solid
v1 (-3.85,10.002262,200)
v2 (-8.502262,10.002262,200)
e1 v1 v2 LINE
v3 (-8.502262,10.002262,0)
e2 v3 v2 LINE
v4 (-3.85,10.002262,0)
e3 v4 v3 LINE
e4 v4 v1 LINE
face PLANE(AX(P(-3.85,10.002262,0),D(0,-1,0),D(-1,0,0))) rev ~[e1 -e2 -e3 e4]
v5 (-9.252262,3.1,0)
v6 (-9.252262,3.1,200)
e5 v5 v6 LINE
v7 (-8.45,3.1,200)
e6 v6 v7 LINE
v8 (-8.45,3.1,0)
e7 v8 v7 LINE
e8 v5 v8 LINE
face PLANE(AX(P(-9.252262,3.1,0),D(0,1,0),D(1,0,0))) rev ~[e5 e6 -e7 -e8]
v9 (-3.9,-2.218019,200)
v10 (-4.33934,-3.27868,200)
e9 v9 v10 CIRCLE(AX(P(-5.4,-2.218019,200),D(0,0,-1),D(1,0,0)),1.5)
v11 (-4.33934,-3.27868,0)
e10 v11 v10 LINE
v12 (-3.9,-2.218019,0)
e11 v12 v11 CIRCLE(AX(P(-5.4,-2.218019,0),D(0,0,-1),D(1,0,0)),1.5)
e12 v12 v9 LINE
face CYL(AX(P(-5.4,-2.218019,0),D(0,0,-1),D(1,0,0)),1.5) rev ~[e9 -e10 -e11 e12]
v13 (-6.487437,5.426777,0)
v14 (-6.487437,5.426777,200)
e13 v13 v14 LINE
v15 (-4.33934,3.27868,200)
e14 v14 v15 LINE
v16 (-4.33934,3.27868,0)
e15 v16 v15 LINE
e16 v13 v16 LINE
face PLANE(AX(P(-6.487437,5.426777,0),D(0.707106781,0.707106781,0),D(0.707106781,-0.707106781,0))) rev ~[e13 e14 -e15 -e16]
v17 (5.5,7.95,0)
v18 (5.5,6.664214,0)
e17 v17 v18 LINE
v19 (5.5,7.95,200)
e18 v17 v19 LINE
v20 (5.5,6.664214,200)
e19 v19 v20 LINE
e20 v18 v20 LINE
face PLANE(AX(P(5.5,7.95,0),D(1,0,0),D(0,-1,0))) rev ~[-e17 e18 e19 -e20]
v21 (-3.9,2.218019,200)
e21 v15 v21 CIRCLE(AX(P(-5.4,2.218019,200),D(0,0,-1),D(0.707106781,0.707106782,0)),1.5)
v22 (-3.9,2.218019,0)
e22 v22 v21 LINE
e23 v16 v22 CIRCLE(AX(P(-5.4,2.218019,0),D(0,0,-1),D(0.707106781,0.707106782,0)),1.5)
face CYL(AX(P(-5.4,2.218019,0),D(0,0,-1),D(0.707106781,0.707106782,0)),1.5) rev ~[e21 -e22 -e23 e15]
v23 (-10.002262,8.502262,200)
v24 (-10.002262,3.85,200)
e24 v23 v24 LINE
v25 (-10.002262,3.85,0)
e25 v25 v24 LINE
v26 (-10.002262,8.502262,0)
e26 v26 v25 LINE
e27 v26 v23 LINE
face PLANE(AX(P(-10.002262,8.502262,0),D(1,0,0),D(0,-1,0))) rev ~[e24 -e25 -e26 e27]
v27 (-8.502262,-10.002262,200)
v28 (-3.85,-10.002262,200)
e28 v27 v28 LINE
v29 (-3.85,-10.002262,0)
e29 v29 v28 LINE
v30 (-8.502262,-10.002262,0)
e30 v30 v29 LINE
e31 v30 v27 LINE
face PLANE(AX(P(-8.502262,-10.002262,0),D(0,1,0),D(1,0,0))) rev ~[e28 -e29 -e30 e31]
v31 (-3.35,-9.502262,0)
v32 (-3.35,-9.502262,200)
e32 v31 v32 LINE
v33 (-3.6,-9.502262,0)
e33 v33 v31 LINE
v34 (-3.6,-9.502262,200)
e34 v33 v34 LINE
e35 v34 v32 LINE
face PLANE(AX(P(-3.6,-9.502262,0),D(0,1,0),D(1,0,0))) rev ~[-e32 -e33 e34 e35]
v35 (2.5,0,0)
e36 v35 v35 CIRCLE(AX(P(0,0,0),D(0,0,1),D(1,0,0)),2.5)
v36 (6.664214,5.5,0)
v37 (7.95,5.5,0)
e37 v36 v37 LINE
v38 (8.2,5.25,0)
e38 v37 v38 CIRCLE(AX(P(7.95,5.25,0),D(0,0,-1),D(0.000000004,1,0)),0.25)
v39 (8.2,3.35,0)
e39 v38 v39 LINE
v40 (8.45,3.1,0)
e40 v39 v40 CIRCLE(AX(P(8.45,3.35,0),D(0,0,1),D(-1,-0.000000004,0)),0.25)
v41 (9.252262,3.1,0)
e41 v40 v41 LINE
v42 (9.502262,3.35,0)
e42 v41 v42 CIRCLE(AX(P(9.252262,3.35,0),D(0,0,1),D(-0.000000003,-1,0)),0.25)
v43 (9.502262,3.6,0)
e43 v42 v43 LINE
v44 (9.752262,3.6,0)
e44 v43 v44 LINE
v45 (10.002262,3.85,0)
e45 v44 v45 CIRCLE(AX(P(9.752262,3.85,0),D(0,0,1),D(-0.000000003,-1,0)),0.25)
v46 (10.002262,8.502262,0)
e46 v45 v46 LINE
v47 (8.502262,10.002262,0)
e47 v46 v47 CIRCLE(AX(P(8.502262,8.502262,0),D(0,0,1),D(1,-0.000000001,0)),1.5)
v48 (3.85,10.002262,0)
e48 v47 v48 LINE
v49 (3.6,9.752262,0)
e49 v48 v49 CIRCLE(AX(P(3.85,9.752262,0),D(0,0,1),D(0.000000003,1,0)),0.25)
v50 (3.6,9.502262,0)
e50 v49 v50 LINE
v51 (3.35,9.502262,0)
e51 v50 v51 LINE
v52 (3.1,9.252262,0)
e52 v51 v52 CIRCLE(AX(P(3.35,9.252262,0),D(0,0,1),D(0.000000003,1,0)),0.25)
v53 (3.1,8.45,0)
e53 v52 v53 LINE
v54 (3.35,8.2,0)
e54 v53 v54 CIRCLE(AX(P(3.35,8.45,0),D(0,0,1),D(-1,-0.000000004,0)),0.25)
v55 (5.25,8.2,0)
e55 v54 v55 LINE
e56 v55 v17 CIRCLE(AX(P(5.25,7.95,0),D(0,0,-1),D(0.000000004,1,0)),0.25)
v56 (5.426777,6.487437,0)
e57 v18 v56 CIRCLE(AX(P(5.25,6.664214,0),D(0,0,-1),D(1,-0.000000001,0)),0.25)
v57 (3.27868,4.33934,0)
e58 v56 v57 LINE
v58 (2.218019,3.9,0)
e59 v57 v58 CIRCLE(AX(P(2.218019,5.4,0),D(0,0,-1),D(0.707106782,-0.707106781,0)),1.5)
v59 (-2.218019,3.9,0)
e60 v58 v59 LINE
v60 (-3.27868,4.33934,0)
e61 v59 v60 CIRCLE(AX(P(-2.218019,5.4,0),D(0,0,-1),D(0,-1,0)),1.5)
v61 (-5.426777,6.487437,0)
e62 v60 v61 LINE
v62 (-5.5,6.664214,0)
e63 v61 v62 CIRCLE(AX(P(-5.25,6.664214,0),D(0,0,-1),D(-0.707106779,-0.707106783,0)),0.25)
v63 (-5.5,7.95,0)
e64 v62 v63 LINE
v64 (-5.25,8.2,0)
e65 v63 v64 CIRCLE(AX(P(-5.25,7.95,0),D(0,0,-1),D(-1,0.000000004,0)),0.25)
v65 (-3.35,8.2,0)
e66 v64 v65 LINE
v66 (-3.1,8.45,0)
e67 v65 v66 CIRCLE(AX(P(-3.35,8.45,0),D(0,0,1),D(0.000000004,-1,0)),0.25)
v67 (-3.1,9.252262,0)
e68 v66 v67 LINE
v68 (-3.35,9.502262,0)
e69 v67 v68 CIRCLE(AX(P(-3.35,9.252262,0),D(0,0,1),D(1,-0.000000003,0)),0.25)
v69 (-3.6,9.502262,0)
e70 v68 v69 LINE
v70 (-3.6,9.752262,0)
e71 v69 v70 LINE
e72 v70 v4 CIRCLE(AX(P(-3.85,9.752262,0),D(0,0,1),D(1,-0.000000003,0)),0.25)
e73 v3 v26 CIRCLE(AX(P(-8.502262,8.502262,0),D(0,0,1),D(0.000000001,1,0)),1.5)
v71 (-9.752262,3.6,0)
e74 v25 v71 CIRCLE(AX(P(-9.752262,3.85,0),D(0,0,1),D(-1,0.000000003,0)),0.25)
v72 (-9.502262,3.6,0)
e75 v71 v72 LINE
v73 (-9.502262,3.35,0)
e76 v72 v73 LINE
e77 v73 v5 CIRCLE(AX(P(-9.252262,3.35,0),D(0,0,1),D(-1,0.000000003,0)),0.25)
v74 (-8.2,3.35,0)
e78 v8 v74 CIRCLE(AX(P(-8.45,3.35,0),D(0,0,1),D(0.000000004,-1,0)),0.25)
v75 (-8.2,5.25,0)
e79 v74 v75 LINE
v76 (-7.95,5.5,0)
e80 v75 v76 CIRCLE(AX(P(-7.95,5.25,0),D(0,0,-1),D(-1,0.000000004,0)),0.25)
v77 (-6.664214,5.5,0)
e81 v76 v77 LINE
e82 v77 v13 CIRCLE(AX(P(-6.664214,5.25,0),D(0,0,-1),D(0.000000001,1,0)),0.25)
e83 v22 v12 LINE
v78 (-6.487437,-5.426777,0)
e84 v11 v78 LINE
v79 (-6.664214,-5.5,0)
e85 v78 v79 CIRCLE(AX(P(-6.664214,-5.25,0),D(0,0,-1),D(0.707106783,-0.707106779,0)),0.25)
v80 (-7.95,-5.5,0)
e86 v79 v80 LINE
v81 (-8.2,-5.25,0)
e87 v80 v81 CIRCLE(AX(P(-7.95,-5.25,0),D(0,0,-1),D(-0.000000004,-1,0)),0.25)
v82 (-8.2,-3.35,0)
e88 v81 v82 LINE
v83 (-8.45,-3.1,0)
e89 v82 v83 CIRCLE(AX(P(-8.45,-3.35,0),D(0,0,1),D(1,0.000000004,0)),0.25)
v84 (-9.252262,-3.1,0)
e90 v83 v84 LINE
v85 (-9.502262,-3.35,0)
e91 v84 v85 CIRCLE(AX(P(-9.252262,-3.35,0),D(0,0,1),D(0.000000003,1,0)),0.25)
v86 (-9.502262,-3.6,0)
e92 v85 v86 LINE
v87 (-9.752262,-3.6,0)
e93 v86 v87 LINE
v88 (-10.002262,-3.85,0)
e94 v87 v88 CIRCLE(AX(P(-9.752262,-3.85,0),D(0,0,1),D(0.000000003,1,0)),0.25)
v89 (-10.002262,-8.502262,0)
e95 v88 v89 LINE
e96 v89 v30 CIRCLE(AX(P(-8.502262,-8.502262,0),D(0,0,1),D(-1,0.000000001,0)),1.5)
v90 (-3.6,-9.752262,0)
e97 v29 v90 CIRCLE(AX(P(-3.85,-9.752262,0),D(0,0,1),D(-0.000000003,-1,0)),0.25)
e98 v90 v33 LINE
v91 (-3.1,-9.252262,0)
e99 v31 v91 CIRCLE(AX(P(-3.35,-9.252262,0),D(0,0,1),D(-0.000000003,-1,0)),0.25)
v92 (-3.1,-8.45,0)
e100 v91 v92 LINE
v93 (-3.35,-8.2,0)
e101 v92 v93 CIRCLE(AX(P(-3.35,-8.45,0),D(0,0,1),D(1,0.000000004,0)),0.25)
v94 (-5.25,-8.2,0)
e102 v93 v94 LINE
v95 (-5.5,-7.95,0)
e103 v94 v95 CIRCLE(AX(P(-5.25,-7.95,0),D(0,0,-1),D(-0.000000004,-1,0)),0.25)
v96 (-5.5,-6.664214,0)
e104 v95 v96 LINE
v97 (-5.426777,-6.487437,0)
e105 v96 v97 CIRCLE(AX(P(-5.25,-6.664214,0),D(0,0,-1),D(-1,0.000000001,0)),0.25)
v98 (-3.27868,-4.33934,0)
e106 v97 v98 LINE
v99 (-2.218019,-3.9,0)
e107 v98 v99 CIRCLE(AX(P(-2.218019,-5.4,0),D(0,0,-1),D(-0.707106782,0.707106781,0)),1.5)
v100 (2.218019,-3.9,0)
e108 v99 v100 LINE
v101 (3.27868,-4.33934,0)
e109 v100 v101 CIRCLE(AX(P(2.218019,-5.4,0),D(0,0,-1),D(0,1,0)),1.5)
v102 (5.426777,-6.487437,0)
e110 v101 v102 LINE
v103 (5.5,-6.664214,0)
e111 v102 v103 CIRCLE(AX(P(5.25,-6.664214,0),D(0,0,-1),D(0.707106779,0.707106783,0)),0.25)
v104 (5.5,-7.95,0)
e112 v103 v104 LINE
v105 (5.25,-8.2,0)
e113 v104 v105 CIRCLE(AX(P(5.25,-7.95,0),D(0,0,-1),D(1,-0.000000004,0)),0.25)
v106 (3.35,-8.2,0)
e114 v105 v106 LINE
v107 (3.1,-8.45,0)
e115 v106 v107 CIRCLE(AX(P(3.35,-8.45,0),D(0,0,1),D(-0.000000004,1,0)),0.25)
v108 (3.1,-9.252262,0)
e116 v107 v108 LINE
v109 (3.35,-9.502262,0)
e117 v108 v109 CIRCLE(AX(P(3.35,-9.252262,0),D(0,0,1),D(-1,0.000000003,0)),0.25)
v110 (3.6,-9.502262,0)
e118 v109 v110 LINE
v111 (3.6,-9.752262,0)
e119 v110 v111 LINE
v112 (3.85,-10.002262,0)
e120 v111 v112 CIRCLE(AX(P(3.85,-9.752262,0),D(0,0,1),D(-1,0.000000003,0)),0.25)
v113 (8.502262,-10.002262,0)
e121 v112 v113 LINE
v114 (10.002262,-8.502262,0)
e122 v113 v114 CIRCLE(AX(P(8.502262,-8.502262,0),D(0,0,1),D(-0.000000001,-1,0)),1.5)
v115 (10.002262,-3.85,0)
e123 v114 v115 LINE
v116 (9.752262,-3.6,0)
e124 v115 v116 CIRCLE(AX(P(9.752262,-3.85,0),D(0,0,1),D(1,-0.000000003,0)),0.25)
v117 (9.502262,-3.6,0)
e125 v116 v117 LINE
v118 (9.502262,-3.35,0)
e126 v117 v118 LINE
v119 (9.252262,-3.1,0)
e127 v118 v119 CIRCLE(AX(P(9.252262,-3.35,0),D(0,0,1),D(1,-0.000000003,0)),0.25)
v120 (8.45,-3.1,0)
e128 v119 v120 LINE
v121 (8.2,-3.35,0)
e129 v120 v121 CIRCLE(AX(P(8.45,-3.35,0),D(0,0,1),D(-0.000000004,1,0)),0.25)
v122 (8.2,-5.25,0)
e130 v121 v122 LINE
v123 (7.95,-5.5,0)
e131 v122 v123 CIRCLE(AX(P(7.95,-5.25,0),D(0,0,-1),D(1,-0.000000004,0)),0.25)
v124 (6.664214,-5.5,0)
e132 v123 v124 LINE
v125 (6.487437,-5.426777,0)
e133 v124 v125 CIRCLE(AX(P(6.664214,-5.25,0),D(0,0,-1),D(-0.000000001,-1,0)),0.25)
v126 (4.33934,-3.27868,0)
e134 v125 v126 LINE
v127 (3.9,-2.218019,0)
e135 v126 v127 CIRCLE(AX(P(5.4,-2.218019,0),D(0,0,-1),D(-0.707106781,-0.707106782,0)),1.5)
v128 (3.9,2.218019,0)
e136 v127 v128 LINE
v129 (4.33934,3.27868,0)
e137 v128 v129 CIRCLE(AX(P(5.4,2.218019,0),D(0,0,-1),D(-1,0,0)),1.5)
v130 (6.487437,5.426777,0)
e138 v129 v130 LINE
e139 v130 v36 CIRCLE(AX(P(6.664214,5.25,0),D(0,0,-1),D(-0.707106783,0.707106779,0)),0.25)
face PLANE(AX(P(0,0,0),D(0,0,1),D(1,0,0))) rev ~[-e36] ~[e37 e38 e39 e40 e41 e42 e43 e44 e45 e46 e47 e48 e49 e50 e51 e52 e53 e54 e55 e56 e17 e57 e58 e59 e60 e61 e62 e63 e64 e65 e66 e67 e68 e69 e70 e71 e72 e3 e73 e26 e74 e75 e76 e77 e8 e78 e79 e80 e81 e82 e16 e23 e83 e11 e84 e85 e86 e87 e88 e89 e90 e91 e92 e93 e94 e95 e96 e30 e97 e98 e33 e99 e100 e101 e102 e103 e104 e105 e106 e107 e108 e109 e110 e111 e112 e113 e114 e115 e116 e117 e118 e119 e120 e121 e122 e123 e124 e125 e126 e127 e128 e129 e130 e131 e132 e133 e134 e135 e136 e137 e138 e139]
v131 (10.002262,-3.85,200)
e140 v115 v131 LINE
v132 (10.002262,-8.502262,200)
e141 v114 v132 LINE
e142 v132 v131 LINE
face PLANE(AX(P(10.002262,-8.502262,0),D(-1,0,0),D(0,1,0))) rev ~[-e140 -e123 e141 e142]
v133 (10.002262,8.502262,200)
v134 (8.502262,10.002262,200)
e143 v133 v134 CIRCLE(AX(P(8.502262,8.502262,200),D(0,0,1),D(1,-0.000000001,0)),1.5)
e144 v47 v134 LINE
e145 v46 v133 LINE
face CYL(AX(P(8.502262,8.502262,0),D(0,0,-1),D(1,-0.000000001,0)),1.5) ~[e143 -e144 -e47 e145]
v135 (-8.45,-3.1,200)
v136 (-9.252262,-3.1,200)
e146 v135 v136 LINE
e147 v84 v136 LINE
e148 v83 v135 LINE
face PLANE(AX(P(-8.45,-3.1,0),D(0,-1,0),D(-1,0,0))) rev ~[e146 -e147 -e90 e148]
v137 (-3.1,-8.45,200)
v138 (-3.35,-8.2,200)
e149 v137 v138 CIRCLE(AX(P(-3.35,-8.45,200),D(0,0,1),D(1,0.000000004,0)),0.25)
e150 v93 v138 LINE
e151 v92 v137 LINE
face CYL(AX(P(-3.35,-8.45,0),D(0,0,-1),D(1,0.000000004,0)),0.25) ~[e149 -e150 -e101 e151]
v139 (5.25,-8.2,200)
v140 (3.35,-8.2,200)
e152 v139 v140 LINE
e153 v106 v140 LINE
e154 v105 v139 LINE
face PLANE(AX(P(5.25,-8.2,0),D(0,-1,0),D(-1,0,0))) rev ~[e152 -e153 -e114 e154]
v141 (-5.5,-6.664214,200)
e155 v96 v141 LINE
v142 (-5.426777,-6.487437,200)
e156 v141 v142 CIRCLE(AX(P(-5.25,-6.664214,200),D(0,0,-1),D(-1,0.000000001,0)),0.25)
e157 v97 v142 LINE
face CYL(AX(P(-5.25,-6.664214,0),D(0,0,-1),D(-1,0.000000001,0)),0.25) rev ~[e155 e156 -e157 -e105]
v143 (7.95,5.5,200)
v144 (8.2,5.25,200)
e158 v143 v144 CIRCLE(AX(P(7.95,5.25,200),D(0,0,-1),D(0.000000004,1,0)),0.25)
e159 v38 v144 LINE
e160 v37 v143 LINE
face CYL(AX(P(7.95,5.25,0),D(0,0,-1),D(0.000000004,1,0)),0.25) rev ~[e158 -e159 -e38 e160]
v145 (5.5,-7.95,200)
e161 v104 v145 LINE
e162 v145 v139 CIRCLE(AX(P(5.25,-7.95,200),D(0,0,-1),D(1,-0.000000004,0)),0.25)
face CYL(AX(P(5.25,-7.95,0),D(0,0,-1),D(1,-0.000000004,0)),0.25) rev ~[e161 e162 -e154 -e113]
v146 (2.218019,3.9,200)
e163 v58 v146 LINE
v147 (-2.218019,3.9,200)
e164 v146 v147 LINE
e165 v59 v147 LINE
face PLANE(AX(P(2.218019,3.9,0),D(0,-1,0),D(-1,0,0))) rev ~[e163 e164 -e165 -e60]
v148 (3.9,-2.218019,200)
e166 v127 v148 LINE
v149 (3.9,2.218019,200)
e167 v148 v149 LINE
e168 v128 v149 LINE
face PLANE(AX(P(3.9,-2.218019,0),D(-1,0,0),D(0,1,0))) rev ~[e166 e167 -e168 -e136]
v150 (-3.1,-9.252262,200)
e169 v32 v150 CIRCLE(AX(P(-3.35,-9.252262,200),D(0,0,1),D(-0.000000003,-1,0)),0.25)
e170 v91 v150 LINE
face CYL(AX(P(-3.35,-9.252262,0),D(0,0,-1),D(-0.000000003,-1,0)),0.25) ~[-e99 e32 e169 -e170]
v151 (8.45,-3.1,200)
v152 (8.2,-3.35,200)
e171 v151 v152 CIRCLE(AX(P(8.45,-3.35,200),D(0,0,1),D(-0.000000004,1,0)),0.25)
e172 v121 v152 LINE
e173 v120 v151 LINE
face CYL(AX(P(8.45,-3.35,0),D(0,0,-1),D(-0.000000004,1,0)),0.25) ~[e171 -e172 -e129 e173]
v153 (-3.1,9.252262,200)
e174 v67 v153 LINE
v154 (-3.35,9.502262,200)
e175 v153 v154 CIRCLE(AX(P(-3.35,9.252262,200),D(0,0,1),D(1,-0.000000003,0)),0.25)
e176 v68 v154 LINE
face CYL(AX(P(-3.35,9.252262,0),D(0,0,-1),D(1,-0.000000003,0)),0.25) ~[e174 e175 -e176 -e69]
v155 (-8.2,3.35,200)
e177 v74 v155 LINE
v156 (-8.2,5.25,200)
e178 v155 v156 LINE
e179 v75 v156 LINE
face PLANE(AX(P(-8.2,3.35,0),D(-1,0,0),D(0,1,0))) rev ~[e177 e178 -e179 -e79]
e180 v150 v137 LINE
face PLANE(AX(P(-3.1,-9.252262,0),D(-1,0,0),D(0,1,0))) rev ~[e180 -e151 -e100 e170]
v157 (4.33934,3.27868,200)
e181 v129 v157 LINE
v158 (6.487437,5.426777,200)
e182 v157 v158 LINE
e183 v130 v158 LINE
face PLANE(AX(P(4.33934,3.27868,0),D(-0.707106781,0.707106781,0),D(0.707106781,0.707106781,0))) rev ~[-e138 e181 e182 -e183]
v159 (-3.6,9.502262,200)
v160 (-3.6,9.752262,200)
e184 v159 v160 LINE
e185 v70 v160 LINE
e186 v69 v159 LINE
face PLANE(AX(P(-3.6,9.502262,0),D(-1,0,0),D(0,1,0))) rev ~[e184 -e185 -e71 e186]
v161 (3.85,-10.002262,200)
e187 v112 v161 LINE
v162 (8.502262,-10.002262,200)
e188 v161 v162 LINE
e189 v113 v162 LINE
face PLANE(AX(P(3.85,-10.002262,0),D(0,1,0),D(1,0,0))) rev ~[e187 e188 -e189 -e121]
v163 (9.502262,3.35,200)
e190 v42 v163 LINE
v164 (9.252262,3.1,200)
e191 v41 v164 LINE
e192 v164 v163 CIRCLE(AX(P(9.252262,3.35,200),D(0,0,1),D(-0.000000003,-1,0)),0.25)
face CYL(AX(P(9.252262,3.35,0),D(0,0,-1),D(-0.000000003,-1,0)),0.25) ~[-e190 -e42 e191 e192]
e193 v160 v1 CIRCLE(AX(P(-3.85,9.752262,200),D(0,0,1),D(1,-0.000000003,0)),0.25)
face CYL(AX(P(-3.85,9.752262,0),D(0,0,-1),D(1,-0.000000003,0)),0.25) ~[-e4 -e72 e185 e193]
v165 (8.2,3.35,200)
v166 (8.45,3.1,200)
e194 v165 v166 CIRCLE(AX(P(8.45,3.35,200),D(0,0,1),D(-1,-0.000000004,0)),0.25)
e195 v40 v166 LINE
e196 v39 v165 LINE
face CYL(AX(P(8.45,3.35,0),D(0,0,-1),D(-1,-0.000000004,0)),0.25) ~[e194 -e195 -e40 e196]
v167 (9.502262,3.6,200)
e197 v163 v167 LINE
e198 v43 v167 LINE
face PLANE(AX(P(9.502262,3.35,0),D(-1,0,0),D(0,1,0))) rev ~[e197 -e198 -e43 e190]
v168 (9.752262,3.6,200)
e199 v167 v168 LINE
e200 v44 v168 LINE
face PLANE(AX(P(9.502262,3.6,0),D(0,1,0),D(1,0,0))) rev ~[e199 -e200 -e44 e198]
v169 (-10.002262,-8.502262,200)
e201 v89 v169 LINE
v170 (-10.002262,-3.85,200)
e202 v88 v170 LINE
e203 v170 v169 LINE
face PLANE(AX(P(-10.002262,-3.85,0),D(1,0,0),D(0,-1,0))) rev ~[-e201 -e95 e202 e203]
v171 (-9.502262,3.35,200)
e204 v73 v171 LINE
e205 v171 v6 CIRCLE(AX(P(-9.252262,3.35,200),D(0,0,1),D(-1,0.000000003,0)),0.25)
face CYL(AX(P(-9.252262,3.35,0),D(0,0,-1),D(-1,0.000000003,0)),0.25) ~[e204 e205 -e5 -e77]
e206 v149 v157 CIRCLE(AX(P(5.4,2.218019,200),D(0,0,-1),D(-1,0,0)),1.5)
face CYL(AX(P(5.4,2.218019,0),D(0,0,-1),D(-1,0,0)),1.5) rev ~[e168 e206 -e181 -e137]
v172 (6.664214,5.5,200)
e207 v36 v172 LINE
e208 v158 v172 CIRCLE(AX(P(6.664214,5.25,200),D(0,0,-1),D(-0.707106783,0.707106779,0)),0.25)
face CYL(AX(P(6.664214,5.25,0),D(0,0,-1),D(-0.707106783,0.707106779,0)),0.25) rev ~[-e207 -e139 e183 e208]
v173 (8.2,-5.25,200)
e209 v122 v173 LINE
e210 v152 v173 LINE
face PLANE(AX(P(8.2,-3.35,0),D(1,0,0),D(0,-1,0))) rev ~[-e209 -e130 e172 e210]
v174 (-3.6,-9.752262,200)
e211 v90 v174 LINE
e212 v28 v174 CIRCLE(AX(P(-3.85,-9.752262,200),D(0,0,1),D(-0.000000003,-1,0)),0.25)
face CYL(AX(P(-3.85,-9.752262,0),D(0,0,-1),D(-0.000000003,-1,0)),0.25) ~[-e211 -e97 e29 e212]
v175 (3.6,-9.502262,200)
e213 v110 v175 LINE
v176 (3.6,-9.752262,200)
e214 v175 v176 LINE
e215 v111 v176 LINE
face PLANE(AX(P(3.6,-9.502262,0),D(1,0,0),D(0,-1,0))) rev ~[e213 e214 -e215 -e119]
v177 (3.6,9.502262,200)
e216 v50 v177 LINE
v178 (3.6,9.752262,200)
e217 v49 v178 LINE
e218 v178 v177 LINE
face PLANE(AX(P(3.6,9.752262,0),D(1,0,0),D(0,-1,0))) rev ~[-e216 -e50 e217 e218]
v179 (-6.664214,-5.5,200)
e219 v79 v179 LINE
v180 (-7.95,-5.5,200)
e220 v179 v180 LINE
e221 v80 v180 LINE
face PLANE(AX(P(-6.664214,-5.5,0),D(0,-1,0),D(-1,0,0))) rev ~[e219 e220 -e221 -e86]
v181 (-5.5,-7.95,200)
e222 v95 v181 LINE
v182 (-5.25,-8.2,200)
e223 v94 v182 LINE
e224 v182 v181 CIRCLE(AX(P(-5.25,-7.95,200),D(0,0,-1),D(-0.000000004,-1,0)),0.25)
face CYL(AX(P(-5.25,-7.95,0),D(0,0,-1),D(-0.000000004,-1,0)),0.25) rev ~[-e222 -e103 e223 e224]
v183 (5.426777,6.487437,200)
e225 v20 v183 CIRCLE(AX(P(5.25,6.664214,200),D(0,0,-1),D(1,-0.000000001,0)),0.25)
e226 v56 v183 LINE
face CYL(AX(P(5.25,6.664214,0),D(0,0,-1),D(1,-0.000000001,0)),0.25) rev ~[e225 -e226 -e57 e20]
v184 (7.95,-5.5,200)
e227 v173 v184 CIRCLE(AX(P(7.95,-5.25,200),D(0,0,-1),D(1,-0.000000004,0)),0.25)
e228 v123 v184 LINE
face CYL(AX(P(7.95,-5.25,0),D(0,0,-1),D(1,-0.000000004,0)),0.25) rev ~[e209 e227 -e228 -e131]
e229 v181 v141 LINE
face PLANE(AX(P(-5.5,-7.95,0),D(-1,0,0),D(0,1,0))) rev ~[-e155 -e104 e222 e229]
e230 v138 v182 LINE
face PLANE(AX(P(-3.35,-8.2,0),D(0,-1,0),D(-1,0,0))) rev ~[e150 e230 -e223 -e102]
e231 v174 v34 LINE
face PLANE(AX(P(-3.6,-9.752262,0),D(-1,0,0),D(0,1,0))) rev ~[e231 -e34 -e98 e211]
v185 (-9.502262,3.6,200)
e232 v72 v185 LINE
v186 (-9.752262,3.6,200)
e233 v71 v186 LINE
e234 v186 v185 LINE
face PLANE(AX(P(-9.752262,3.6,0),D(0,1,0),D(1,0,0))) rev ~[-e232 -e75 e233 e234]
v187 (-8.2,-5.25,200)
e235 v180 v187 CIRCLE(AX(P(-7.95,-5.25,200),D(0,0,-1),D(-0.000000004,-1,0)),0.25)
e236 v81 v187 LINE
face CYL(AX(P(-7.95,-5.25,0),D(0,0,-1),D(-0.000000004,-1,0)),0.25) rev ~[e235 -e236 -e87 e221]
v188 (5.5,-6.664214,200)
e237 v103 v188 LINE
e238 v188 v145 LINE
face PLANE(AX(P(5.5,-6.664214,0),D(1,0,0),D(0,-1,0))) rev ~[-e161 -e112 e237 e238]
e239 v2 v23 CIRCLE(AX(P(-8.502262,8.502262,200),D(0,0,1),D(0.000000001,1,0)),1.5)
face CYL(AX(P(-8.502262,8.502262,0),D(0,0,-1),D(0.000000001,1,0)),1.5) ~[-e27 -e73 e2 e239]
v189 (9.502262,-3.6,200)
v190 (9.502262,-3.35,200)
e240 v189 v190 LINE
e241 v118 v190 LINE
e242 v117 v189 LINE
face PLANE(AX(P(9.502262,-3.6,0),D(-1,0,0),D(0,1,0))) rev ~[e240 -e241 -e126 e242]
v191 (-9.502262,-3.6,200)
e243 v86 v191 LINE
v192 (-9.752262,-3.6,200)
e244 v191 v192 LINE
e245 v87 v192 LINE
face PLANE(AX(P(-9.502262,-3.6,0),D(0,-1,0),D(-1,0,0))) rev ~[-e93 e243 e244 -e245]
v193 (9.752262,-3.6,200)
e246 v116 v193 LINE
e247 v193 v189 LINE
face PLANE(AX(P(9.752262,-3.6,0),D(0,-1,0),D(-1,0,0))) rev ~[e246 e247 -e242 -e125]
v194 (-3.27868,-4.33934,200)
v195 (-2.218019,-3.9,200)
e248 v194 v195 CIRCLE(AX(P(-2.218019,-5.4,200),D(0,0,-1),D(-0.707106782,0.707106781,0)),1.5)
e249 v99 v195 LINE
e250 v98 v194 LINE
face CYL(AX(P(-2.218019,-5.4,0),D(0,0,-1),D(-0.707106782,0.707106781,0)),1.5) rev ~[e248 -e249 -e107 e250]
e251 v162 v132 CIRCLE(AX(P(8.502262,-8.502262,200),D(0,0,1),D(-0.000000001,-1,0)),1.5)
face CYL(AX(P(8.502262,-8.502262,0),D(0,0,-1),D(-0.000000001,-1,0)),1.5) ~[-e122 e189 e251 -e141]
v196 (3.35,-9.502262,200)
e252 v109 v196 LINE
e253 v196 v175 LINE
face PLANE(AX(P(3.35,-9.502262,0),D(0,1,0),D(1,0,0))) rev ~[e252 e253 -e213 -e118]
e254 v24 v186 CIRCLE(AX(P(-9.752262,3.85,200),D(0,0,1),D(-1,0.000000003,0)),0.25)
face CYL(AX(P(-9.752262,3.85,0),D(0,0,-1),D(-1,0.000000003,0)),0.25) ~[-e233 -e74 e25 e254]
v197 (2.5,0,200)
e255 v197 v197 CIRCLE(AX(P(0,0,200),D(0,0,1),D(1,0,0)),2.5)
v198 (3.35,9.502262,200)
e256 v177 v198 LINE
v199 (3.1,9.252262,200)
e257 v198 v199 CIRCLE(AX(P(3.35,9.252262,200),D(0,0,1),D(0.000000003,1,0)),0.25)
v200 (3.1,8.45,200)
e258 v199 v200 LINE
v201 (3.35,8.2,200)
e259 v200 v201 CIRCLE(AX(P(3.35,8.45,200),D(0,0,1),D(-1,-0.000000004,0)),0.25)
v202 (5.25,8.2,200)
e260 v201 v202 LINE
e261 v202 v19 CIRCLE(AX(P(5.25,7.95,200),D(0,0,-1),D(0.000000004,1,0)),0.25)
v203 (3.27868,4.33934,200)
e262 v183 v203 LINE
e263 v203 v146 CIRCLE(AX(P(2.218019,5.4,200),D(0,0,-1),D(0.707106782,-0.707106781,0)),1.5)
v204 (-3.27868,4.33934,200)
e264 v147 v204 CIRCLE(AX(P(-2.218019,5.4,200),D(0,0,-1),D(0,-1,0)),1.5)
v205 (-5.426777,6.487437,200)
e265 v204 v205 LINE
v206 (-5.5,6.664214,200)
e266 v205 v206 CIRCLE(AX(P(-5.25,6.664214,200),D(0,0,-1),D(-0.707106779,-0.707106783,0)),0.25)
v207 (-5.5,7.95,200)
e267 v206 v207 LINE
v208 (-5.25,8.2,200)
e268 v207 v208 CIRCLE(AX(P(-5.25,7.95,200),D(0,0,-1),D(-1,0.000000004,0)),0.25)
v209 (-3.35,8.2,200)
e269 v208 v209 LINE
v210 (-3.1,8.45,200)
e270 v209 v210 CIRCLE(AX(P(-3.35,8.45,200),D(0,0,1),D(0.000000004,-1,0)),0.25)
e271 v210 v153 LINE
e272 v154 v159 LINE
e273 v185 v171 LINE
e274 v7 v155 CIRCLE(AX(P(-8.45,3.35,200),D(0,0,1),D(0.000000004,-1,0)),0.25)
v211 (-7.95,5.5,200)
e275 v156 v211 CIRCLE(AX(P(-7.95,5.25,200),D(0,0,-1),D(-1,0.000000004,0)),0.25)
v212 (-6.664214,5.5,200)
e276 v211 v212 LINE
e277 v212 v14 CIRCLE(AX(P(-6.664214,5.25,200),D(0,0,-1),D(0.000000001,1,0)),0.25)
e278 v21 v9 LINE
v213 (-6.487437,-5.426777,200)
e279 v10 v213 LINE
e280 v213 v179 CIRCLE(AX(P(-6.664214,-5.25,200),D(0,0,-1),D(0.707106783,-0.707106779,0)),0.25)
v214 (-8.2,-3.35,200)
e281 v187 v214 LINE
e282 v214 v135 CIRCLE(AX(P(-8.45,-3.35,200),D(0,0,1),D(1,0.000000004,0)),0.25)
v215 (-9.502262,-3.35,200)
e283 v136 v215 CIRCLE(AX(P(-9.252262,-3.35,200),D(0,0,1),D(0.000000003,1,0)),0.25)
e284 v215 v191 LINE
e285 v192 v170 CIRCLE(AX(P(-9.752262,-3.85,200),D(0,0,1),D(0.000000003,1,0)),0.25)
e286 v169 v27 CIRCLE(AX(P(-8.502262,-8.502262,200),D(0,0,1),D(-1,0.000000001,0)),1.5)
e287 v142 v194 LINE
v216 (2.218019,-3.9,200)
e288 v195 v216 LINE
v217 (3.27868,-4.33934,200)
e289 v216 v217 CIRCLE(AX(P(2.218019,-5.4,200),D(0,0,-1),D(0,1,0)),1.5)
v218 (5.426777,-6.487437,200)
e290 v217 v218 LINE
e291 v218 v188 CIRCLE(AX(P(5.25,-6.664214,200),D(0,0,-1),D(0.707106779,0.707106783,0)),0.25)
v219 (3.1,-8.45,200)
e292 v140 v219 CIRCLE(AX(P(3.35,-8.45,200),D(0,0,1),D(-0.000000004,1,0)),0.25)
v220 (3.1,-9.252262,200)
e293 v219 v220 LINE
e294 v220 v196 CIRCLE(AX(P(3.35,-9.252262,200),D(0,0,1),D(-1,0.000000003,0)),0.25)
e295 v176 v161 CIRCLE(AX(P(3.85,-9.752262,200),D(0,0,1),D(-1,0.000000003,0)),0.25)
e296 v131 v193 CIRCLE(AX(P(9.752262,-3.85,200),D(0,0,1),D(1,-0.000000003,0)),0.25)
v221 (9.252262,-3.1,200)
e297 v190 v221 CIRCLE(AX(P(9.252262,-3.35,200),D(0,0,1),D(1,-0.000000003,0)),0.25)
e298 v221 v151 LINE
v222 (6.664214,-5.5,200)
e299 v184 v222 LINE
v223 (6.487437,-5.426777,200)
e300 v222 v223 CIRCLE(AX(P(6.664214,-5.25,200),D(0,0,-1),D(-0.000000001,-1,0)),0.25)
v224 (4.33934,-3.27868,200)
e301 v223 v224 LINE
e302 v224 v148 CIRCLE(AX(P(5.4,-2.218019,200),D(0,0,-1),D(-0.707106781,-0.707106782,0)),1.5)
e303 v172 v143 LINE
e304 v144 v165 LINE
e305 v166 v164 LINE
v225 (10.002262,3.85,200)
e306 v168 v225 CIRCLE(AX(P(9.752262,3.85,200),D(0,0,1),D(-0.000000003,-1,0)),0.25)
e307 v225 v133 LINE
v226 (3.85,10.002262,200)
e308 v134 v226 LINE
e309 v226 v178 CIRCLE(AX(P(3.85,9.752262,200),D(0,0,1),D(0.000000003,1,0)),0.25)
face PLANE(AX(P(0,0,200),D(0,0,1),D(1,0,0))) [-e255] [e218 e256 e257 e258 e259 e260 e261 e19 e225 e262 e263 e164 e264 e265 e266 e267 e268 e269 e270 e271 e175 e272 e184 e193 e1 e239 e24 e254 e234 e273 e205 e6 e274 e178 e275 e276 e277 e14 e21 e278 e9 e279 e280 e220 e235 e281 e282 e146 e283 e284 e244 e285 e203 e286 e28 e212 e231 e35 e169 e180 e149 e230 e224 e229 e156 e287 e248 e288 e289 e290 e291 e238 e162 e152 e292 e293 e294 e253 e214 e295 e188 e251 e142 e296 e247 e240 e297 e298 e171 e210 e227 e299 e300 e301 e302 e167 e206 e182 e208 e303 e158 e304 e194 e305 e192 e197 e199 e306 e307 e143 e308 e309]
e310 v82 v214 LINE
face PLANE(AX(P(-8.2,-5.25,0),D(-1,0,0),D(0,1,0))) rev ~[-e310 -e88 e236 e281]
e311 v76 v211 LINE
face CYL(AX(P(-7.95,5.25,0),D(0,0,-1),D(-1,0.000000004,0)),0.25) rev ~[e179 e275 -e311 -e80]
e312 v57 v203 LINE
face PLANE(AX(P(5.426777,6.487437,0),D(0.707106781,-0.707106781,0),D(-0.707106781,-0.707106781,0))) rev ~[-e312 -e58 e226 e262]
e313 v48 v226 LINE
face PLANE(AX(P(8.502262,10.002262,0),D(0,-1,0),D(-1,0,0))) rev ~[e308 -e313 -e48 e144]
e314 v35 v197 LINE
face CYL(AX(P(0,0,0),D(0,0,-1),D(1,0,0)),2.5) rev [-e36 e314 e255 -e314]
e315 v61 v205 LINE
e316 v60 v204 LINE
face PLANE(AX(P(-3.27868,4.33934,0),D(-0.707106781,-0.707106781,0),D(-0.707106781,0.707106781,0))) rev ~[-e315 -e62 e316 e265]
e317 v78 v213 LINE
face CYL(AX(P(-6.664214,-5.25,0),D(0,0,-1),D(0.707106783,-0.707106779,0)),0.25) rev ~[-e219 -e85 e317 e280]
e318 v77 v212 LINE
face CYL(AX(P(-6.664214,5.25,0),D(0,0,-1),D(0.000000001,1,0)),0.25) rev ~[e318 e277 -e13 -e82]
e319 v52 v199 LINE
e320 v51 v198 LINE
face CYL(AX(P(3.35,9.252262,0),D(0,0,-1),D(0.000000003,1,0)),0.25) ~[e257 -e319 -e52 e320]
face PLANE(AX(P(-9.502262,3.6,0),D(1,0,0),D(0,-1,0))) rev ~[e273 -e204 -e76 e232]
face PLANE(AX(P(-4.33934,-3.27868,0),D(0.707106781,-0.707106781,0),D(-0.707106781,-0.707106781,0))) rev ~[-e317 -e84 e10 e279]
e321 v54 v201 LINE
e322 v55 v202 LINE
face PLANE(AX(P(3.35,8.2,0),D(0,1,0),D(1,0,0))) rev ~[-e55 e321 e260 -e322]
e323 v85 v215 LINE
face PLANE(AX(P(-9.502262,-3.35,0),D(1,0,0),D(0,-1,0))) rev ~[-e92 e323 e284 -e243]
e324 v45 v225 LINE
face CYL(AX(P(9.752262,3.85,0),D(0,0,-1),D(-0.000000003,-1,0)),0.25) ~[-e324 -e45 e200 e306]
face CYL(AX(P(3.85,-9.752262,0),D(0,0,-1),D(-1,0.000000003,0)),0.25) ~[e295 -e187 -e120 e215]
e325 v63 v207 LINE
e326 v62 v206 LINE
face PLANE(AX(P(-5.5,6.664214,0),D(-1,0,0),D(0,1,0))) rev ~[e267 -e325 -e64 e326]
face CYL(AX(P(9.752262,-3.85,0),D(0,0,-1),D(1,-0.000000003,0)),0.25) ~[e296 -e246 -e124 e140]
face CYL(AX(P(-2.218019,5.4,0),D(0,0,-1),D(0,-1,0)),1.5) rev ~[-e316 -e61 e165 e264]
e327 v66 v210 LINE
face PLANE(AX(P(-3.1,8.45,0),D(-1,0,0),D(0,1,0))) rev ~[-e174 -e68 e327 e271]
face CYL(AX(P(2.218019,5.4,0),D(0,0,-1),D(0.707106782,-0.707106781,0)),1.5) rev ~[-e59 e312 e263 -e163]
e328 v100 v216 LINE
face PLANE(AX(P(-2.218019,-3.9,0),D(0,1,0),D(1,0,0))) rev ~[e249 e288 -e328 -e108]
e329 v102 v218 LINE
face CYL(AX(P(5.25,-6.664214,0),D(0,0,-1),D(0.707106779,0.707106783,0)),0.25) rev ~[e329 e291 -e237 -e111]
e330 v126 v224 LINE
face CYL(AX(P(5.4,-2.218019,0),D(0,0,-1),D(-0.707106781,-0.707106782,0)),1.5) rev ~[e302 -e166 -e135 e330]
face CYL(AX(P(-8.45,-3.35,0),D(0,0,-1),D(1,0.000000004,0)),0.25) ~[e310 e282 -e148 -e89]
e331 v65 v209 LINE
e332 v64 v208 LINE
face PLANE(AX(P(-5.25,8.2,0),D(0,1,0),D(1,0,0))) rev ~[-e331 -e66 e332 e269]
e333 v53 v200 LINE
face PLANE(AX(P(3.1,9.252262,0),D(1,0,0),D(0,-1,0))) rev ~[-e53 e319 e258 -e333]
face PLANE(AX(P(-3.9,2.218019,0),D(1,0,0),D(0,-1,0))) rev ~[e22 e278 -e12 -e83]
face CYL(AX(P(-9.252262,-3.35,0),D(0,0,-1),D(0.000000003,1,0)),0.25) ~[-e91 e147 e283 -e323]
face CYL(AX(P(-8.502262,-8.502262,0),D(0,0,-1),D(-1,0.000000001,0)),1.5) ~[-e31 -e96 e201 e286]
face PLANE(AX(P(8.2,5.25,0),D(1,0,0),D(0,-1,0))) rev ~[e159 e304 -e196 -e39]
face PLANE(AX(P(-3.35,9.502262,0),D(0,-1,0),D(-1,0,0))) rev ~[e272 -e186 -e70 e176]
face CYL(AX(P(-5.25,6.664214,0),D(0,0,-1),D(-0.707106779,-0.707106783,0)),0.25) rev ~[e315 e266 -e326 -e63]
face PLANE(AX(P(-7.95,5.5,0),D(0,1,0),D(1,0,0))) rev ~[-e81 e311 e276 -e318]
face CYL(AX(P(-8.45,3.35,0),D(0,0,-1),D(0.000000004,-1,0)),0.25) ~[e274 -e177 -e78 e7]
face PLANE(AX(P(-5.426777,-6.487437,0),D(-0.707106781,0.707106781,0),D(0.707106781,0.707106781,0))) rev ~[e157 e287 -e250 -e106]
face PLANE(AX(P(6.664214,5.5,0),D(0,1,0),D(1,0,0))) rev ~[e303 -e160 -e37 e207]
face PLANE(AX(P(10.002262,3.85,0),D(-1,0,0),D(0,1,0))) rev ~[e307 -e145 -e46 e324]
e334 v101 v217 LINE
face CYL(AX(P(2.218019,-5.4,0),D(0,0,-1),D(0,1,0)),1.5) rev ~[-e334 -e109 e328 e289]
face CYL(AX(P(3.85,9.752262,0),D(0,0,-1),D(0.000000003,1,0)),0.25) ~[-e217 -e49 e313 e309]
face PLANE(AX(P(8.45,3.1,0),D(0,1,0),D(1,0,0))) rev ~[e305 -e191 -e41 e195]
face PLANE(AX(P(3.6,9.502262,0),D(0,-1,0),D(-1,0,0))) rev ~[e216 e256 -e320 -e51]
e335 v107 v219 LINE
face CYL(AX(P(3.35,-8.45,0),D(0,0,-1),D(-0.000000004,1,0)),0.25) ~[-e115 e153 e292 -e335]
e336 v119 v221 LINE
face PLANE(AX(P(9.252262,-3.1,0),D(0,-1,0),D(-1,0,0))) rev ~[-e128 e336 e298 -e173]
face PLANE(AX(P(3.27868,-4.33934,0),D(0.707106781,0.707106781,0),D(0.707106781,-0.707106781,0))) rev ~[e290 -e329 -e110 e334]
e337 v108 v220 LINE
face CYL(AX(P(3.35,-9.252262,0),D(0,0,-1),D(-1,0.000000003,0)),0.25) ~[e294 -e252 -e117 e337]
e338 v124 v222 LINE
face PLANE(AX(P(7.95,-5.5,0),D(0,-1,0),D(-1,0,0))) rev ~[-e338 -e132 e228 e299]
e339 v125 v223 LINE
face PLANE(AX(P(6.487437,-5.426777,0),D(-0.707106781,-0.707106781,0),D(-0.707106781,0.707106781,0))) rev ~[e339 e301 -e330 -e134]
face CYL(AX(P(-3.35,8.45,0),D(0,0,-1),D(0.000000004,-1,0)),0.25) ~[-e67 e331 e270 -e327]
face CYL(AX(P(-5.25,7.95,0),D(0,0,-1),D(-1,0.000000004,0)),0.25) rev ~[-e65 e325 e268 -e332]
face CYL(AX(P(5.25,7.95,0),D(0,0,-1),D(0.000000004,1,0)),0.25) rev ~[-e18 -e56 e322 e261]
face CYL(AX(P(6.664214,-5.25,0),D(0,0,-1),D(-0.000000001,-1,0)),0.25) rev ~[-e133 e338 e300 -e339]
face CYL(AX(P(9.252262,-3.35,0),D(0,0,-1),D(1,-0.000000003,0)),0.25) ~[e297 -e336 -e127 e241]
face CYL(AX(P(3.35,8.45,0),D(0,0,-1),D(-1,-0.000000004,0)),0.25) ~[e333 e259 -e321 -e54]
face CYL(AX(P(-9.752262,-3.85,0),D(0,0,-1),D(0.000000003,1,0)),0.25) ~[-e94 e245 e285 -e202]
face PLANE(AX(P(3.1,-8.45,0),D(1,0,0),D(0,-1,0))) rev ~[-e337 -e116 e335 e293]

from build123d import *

# Parameters (mm, degrees)
SKETCH_1_R      = 2.5
EXTRUDE_1_DEPTH = 200


with BuildPart() as part:
    # 草图1 → 凸台-拉伸1 (new body)
    with BuildSketch(Plane.XY):
        with BuildLine():
            Line((-8.502261885, -10.002261885), (-3.85, -10.002261885))
            ThreePointArc((-3.85, -10.002261885), (-3.673223305, -9.929038581), (-3.6, -9.752261885))
            Line((-3.6, -9.752261885), (-3.6, -9.502261885))
            Line((-3.6, -9.502261885), (-3.35, -9.502261885))
            ThreePointArc((-3.35, -9.502261885), (-3.173223305, -9.429038581), (-3.1, -9.252261885))
            Line((-3.1, -9.252261885), (-3.1, -8.45))
            ThreePointArc((-3.1, -8.45), (-3.173223305, -8.273223305), (-3.35, -8.2))
            Line((-3.35, -8.2), (-5.25, -8.2))
            ThreePointArc((-5.25, -8.2), (-5.426776695, -8.126776695), (-5.5, -7.95))
            Line((-5.5, -7.95), (-5.5, -6.664213562))
            ThreePointArc((-5.5, -6.664213562), (-5.480969883, -6.568542704), (-5.426776695, -6.487436867))
            Line((-5.426776695, -6.487436867), (-3.278679656, -4.339339828))
            ThreePointArc((-3.278679656, -4.339339828), (-2.792044633, -4.014180701), (-2.218019485, -3.9))
            Line((-2.218019485, -3.9), (2.218019485, -3.9))
            ThreePointArc((2.218019485, -3.9), (2.792044633, -4.014180701), (3.278679656, -4.339339828))
            Line((3.278679656, -4.339339828), (5.426776695, -6.487436867))
            ThreePointArc((5.426776695, -6.487436867), (5.480969883, -6.568542704), (5.5, -6.664213562))
            Line((5.5, -6.664213562), (5.5, -7.95))
            ThreePointArc((5.5, -7.95), (5.426776695, -8.126776695), (5.25, -8.2))
            Line((5.25, -8.2), (3.35, -8.2))
            ThreePointArc((3.35, -8.2), (3.173223305, -8.273223305), (3.1, -8.45))
            Line((3.1, -8.45), (3.1, -9.252261885))
            ThreePointArc((3.1, -9.252261885), (3.173223305, -9.429038581), (3.35, -9.502261885))
            Line((3.35, -9.502261885), (3.6, -9.502261885))
            Line((3.6, -9.502261885), (3.6, -9.752261885))
            ThreePointArc((3.6, -9.752261885), (3.673223305, -9.929038581), (3.85, -10.002261885))
            Line((3.85, -10.002261885), (8.502261885, -10.002261885))
            ThreePointArc((8.502261885, -10.002261885), (9.562922057, -9.562922057), (10.002261885, -8.502261885))
            Line((10.002261885, -8.502261885), (10.002261885, -3.85))
            ThreePointArc((10.002261885, -3.85), (9.929038581, -3.673223305), (9.752261885, -3.6))
            Line((9.752261885, -3.6), (9.502261885, -3.6))
            Line((9.502261885, -3.6), (9.502261885, -3.35))
            ThreePointArc((9.502261885, -3.35), (9.429038581, -3.173223305), (9.252261885, -3.1))
            Line((9.252261885, -3.1), (8.45, -3.1))
            ThreePointArc((8.45, -3.1), (8.273223305, -3.173223305), (8.2, -3.35))
            Line((8.2, -3.35), (8.2, -5.25))
            ThreePointArc((8.2, -5.25), (8.126776695, -5.426776695), (7.95, -5.5))
            Line((7.95, -5.5), (6.664213562, -5.5))
            ThreePointArc((6.664213562, -5.5), (6.568542704, -5.480969883), (6.487436867, -5.426776695))
            Line((6.487436867, -5.426776695), (4.339339828, -3.278679656))
            ThreePointArc((4.339339828, -3.278679656), (4.014180701, -2.792044633), (3.9, -2.218019485))
            Line((3.9, -2.218019485), (3.9, 2.218019485))
            ThreePointArc((3.9, 2.218019485), (4.014180701, 2.792044633), (4.339339828, 3.278679656))
            Line((4.339339828, 3.278679656), (6.487436867, 5.426776695))
            ThreePointArc((6.487436867, 5.426776695), (6.568542704, 5.480969883), (6.664213562, 5.5))
            Line((6.664213562, 5.5), (7.95, 5.5))
            ThreePointArc((7.95, 5.5), (8.126776695, 5.426776695), (8.2, 5.25))
            Line((8.2, 5.25), (8.2, 3.35))
            ThreePointArc((8.2, 3.35), (8.273223305, 3.173223305), (8.45, 3.1))
            Line((8.45, 3.1), (9.252261885, 3.1))
            ThreePointArc((9.252261885, 3.1), (9.429038581, 3.173223305), (9.502261885, 3.35))
            Line((9.502261885, 3.35), (9.502261885, 3.6))
            Line((9.502261885, 3.6), (9.752261885, 3.6))
            ThreePointArc((9.752261885, 3.6), (9.929038581, 3.673223305), (10.002261885, 3.85))
            Line((10.002261885, 3.85), (10.002261885, 8.502261885))
            ThreePointArc((10.002261885, 8.502261885), (9.562922057, 9.562922057), (8.502261885, 10.002261885))
            Line((8.502261885, 10.002261885), (3.85, 10.002261885))
            ThreePointArc((3.85, 10.002261885), (3.673223305, 9.929038581), (3.6, 9.752261885))
            Line((3.6, 9.752261885), (3.6, 9.502261885))
            Line((3.6, 9.502261885), (3.35, 9.502261885))
            ThreePointArc((3.35, 9.502261885), (3.173223305, 9.429038581), (3.1, 9.252261885))
            Line((3.1, 9.252261885), (3.1, 8.45))
            ThreePointArc((3.1, 8.45), (3.173223305, 8.273223305), (3.35, 8.2))
            Line((3.35, 8.2), (5.25, 8.2))
            ThreePointArc((5.25, 8.2), (5.426776695, 8.126776695), (5.5, 7.95))
            Line((5.5, 7.95), (5.5, 6.664213562))
            ThreePointArc((5.5, 6.664213562), (5.480969883, 6.568542704), (5.426776695, 6.487436867))
            Line((5.426776695, 6.487436867), (3.278679656, 4.339339828))
            ThreePointArc((3.278679656, 4.339339828), (2.792044633, 4.014180701), (2.218019485, 3.9))
            Line((2.218019485, 3.9), (-2.218019485, 3.9))
            ThreePointArc((-2.218019485, 3.9), (-2.792044633, 4.014180701), (-3.278679656, 4.339339828))
            Line((-3.278679656, 4.339339828), (-5.426776695, 6.487436867))
            ThreePointArc((-5.426776695, 6.487436867), (-5.480969883, 6.568542704), (-5.5, 6.664213562))
            Line((-5.5, 6.664213562), (-5.5, 7.95))
            ThreePointArc((-5.5, 7.95), (-5.426776695, 8.126776695), (-5.25, 8.2))
            Line((-5.25, 8.2), (-3.35, 8.2))
            ThreePointArc((-3.35, 8.2), (-3.173223305, 8.273223305), (-3.1, 8.45))
            Line((-3.1, 8.45), (-3.1, 9.252261885))
            ThreePointArc((-3.1, 9.252261885), (-3.173223305, 9.429038581), (-3.35, 9.502261885))
            Line((-3.35, 9.502261885), (-3.6, 9.502261885))
            Line((-3.6, 9.502261885), (-3.6, 9.752261885))
            ThreePointArc((-3.6, 9.752261885), (-3.673223305, 9.929038581), (-3.85, 10.002261885))
            Line((-3.85, 10.002261885), (-8.502261885, 10.002261885))
            ThreePointArc((-8.502261885, 10.002261885), (-9.562922057, 9.562922057), (-10.002261885, 8.502261885))
            Line((-10.002261885, 8.502261885), (-10.002261885, 3.85))
            ThreePointArc((-10.002261885, 3.85), (-9.929038581, 3.673223305), (-9.752261885, 3.6))
            Line((-9.752261885, 3.6), (-9.502261885, 3.6))
            Line((-9.502261885, 3.6), (-9.502261885, 3.35))
            ThreePointArc((-9.502261885, 3.35), (-9.429038581, 3.173223305), (-9.252261885, 3.1))
            Line((-9.252261885, 3.1), (-8.45, 3.1))
            ThreePointArc((-8.45, 3.1), (-8.273223305, 3.173223305), (-8.2, 3.35))
            Line((-8.2, 3.35), (-8.2, 5.25))
            ThreePointArc((-8.2, 5.25), (-8.126776695, 5.426776695), (-7.95, 5.5))
            Line((-7.95, 5.5), (-6.664213562, 5.5))
            ThreePointArc((-6.664213562, 5.5), (-6.568542704, 5.480969883), (-6.487436867, 5.426776695))
            Line((-6.487436867, 5.426776695), (-4.339339828, 3.278679656))
            ThreePointArc((-4.339339828, 3.278679656), (-4.014180701, 2.792044633), (-3.9, 2.218019485))
            Line((-3.9, 2.218019485), (-3.9, -2.218019485))
            ThreePointArc((-3.9, -2.218019485), (-4.014180701, -2.792044633), (-4.339339828, -3.278679656))
            Line((-4.339339828, -3.278679656), (-6.487436867, -5.426776695))
            ThreePointArc((-6.487436867, -5.426776695), (-6.568542704, -5.480969883), (-6.664213562, -5.5))
            Line((-6.664213562, -5.5), (-7.95, -5.5))
            ThreePointArc((-7.95, -5.5), (-8.126776695, -5.426776695), (-8.2, -5.25))
            Line((-8.2, -5.25), (-8.2, -3.35))
            ThreePointArc((-8.2, -3.35), (-8.273223305, -3.173223305), (-8.45, -3.1))
            Line((-8.45, -3.1), (-9.252261885, -3.1))
            ThreePointArc((-9.252261885, -3.1), (-9.429038581, -3.173223305), (-9.502261885, -3.35))
            Line((-9.502261885, -3.35), (-9.502261885, -3.6))
            Line((-9.502261885, -3.6), (-9.752261885, -3.6))
            ThreePointArc((-9.752261885, -3.6), (-9.929038581, -3.673223305), (-10.002261885, -3.85))
            Line((-10.002261885, -3.85), (-10.002261885, -8.502261885))
            ThreePointArc((-10.002261885, -8.502261885), (-9.562922057, -9.562922057), (-8.502261885, -10.002261885))
        make_face()
        Circle(SKETCH_1_R, mode=Mode.SUBTRACT)
    extrude(amount=EXTRUDE_1_DEPTH)


solid = part.part
